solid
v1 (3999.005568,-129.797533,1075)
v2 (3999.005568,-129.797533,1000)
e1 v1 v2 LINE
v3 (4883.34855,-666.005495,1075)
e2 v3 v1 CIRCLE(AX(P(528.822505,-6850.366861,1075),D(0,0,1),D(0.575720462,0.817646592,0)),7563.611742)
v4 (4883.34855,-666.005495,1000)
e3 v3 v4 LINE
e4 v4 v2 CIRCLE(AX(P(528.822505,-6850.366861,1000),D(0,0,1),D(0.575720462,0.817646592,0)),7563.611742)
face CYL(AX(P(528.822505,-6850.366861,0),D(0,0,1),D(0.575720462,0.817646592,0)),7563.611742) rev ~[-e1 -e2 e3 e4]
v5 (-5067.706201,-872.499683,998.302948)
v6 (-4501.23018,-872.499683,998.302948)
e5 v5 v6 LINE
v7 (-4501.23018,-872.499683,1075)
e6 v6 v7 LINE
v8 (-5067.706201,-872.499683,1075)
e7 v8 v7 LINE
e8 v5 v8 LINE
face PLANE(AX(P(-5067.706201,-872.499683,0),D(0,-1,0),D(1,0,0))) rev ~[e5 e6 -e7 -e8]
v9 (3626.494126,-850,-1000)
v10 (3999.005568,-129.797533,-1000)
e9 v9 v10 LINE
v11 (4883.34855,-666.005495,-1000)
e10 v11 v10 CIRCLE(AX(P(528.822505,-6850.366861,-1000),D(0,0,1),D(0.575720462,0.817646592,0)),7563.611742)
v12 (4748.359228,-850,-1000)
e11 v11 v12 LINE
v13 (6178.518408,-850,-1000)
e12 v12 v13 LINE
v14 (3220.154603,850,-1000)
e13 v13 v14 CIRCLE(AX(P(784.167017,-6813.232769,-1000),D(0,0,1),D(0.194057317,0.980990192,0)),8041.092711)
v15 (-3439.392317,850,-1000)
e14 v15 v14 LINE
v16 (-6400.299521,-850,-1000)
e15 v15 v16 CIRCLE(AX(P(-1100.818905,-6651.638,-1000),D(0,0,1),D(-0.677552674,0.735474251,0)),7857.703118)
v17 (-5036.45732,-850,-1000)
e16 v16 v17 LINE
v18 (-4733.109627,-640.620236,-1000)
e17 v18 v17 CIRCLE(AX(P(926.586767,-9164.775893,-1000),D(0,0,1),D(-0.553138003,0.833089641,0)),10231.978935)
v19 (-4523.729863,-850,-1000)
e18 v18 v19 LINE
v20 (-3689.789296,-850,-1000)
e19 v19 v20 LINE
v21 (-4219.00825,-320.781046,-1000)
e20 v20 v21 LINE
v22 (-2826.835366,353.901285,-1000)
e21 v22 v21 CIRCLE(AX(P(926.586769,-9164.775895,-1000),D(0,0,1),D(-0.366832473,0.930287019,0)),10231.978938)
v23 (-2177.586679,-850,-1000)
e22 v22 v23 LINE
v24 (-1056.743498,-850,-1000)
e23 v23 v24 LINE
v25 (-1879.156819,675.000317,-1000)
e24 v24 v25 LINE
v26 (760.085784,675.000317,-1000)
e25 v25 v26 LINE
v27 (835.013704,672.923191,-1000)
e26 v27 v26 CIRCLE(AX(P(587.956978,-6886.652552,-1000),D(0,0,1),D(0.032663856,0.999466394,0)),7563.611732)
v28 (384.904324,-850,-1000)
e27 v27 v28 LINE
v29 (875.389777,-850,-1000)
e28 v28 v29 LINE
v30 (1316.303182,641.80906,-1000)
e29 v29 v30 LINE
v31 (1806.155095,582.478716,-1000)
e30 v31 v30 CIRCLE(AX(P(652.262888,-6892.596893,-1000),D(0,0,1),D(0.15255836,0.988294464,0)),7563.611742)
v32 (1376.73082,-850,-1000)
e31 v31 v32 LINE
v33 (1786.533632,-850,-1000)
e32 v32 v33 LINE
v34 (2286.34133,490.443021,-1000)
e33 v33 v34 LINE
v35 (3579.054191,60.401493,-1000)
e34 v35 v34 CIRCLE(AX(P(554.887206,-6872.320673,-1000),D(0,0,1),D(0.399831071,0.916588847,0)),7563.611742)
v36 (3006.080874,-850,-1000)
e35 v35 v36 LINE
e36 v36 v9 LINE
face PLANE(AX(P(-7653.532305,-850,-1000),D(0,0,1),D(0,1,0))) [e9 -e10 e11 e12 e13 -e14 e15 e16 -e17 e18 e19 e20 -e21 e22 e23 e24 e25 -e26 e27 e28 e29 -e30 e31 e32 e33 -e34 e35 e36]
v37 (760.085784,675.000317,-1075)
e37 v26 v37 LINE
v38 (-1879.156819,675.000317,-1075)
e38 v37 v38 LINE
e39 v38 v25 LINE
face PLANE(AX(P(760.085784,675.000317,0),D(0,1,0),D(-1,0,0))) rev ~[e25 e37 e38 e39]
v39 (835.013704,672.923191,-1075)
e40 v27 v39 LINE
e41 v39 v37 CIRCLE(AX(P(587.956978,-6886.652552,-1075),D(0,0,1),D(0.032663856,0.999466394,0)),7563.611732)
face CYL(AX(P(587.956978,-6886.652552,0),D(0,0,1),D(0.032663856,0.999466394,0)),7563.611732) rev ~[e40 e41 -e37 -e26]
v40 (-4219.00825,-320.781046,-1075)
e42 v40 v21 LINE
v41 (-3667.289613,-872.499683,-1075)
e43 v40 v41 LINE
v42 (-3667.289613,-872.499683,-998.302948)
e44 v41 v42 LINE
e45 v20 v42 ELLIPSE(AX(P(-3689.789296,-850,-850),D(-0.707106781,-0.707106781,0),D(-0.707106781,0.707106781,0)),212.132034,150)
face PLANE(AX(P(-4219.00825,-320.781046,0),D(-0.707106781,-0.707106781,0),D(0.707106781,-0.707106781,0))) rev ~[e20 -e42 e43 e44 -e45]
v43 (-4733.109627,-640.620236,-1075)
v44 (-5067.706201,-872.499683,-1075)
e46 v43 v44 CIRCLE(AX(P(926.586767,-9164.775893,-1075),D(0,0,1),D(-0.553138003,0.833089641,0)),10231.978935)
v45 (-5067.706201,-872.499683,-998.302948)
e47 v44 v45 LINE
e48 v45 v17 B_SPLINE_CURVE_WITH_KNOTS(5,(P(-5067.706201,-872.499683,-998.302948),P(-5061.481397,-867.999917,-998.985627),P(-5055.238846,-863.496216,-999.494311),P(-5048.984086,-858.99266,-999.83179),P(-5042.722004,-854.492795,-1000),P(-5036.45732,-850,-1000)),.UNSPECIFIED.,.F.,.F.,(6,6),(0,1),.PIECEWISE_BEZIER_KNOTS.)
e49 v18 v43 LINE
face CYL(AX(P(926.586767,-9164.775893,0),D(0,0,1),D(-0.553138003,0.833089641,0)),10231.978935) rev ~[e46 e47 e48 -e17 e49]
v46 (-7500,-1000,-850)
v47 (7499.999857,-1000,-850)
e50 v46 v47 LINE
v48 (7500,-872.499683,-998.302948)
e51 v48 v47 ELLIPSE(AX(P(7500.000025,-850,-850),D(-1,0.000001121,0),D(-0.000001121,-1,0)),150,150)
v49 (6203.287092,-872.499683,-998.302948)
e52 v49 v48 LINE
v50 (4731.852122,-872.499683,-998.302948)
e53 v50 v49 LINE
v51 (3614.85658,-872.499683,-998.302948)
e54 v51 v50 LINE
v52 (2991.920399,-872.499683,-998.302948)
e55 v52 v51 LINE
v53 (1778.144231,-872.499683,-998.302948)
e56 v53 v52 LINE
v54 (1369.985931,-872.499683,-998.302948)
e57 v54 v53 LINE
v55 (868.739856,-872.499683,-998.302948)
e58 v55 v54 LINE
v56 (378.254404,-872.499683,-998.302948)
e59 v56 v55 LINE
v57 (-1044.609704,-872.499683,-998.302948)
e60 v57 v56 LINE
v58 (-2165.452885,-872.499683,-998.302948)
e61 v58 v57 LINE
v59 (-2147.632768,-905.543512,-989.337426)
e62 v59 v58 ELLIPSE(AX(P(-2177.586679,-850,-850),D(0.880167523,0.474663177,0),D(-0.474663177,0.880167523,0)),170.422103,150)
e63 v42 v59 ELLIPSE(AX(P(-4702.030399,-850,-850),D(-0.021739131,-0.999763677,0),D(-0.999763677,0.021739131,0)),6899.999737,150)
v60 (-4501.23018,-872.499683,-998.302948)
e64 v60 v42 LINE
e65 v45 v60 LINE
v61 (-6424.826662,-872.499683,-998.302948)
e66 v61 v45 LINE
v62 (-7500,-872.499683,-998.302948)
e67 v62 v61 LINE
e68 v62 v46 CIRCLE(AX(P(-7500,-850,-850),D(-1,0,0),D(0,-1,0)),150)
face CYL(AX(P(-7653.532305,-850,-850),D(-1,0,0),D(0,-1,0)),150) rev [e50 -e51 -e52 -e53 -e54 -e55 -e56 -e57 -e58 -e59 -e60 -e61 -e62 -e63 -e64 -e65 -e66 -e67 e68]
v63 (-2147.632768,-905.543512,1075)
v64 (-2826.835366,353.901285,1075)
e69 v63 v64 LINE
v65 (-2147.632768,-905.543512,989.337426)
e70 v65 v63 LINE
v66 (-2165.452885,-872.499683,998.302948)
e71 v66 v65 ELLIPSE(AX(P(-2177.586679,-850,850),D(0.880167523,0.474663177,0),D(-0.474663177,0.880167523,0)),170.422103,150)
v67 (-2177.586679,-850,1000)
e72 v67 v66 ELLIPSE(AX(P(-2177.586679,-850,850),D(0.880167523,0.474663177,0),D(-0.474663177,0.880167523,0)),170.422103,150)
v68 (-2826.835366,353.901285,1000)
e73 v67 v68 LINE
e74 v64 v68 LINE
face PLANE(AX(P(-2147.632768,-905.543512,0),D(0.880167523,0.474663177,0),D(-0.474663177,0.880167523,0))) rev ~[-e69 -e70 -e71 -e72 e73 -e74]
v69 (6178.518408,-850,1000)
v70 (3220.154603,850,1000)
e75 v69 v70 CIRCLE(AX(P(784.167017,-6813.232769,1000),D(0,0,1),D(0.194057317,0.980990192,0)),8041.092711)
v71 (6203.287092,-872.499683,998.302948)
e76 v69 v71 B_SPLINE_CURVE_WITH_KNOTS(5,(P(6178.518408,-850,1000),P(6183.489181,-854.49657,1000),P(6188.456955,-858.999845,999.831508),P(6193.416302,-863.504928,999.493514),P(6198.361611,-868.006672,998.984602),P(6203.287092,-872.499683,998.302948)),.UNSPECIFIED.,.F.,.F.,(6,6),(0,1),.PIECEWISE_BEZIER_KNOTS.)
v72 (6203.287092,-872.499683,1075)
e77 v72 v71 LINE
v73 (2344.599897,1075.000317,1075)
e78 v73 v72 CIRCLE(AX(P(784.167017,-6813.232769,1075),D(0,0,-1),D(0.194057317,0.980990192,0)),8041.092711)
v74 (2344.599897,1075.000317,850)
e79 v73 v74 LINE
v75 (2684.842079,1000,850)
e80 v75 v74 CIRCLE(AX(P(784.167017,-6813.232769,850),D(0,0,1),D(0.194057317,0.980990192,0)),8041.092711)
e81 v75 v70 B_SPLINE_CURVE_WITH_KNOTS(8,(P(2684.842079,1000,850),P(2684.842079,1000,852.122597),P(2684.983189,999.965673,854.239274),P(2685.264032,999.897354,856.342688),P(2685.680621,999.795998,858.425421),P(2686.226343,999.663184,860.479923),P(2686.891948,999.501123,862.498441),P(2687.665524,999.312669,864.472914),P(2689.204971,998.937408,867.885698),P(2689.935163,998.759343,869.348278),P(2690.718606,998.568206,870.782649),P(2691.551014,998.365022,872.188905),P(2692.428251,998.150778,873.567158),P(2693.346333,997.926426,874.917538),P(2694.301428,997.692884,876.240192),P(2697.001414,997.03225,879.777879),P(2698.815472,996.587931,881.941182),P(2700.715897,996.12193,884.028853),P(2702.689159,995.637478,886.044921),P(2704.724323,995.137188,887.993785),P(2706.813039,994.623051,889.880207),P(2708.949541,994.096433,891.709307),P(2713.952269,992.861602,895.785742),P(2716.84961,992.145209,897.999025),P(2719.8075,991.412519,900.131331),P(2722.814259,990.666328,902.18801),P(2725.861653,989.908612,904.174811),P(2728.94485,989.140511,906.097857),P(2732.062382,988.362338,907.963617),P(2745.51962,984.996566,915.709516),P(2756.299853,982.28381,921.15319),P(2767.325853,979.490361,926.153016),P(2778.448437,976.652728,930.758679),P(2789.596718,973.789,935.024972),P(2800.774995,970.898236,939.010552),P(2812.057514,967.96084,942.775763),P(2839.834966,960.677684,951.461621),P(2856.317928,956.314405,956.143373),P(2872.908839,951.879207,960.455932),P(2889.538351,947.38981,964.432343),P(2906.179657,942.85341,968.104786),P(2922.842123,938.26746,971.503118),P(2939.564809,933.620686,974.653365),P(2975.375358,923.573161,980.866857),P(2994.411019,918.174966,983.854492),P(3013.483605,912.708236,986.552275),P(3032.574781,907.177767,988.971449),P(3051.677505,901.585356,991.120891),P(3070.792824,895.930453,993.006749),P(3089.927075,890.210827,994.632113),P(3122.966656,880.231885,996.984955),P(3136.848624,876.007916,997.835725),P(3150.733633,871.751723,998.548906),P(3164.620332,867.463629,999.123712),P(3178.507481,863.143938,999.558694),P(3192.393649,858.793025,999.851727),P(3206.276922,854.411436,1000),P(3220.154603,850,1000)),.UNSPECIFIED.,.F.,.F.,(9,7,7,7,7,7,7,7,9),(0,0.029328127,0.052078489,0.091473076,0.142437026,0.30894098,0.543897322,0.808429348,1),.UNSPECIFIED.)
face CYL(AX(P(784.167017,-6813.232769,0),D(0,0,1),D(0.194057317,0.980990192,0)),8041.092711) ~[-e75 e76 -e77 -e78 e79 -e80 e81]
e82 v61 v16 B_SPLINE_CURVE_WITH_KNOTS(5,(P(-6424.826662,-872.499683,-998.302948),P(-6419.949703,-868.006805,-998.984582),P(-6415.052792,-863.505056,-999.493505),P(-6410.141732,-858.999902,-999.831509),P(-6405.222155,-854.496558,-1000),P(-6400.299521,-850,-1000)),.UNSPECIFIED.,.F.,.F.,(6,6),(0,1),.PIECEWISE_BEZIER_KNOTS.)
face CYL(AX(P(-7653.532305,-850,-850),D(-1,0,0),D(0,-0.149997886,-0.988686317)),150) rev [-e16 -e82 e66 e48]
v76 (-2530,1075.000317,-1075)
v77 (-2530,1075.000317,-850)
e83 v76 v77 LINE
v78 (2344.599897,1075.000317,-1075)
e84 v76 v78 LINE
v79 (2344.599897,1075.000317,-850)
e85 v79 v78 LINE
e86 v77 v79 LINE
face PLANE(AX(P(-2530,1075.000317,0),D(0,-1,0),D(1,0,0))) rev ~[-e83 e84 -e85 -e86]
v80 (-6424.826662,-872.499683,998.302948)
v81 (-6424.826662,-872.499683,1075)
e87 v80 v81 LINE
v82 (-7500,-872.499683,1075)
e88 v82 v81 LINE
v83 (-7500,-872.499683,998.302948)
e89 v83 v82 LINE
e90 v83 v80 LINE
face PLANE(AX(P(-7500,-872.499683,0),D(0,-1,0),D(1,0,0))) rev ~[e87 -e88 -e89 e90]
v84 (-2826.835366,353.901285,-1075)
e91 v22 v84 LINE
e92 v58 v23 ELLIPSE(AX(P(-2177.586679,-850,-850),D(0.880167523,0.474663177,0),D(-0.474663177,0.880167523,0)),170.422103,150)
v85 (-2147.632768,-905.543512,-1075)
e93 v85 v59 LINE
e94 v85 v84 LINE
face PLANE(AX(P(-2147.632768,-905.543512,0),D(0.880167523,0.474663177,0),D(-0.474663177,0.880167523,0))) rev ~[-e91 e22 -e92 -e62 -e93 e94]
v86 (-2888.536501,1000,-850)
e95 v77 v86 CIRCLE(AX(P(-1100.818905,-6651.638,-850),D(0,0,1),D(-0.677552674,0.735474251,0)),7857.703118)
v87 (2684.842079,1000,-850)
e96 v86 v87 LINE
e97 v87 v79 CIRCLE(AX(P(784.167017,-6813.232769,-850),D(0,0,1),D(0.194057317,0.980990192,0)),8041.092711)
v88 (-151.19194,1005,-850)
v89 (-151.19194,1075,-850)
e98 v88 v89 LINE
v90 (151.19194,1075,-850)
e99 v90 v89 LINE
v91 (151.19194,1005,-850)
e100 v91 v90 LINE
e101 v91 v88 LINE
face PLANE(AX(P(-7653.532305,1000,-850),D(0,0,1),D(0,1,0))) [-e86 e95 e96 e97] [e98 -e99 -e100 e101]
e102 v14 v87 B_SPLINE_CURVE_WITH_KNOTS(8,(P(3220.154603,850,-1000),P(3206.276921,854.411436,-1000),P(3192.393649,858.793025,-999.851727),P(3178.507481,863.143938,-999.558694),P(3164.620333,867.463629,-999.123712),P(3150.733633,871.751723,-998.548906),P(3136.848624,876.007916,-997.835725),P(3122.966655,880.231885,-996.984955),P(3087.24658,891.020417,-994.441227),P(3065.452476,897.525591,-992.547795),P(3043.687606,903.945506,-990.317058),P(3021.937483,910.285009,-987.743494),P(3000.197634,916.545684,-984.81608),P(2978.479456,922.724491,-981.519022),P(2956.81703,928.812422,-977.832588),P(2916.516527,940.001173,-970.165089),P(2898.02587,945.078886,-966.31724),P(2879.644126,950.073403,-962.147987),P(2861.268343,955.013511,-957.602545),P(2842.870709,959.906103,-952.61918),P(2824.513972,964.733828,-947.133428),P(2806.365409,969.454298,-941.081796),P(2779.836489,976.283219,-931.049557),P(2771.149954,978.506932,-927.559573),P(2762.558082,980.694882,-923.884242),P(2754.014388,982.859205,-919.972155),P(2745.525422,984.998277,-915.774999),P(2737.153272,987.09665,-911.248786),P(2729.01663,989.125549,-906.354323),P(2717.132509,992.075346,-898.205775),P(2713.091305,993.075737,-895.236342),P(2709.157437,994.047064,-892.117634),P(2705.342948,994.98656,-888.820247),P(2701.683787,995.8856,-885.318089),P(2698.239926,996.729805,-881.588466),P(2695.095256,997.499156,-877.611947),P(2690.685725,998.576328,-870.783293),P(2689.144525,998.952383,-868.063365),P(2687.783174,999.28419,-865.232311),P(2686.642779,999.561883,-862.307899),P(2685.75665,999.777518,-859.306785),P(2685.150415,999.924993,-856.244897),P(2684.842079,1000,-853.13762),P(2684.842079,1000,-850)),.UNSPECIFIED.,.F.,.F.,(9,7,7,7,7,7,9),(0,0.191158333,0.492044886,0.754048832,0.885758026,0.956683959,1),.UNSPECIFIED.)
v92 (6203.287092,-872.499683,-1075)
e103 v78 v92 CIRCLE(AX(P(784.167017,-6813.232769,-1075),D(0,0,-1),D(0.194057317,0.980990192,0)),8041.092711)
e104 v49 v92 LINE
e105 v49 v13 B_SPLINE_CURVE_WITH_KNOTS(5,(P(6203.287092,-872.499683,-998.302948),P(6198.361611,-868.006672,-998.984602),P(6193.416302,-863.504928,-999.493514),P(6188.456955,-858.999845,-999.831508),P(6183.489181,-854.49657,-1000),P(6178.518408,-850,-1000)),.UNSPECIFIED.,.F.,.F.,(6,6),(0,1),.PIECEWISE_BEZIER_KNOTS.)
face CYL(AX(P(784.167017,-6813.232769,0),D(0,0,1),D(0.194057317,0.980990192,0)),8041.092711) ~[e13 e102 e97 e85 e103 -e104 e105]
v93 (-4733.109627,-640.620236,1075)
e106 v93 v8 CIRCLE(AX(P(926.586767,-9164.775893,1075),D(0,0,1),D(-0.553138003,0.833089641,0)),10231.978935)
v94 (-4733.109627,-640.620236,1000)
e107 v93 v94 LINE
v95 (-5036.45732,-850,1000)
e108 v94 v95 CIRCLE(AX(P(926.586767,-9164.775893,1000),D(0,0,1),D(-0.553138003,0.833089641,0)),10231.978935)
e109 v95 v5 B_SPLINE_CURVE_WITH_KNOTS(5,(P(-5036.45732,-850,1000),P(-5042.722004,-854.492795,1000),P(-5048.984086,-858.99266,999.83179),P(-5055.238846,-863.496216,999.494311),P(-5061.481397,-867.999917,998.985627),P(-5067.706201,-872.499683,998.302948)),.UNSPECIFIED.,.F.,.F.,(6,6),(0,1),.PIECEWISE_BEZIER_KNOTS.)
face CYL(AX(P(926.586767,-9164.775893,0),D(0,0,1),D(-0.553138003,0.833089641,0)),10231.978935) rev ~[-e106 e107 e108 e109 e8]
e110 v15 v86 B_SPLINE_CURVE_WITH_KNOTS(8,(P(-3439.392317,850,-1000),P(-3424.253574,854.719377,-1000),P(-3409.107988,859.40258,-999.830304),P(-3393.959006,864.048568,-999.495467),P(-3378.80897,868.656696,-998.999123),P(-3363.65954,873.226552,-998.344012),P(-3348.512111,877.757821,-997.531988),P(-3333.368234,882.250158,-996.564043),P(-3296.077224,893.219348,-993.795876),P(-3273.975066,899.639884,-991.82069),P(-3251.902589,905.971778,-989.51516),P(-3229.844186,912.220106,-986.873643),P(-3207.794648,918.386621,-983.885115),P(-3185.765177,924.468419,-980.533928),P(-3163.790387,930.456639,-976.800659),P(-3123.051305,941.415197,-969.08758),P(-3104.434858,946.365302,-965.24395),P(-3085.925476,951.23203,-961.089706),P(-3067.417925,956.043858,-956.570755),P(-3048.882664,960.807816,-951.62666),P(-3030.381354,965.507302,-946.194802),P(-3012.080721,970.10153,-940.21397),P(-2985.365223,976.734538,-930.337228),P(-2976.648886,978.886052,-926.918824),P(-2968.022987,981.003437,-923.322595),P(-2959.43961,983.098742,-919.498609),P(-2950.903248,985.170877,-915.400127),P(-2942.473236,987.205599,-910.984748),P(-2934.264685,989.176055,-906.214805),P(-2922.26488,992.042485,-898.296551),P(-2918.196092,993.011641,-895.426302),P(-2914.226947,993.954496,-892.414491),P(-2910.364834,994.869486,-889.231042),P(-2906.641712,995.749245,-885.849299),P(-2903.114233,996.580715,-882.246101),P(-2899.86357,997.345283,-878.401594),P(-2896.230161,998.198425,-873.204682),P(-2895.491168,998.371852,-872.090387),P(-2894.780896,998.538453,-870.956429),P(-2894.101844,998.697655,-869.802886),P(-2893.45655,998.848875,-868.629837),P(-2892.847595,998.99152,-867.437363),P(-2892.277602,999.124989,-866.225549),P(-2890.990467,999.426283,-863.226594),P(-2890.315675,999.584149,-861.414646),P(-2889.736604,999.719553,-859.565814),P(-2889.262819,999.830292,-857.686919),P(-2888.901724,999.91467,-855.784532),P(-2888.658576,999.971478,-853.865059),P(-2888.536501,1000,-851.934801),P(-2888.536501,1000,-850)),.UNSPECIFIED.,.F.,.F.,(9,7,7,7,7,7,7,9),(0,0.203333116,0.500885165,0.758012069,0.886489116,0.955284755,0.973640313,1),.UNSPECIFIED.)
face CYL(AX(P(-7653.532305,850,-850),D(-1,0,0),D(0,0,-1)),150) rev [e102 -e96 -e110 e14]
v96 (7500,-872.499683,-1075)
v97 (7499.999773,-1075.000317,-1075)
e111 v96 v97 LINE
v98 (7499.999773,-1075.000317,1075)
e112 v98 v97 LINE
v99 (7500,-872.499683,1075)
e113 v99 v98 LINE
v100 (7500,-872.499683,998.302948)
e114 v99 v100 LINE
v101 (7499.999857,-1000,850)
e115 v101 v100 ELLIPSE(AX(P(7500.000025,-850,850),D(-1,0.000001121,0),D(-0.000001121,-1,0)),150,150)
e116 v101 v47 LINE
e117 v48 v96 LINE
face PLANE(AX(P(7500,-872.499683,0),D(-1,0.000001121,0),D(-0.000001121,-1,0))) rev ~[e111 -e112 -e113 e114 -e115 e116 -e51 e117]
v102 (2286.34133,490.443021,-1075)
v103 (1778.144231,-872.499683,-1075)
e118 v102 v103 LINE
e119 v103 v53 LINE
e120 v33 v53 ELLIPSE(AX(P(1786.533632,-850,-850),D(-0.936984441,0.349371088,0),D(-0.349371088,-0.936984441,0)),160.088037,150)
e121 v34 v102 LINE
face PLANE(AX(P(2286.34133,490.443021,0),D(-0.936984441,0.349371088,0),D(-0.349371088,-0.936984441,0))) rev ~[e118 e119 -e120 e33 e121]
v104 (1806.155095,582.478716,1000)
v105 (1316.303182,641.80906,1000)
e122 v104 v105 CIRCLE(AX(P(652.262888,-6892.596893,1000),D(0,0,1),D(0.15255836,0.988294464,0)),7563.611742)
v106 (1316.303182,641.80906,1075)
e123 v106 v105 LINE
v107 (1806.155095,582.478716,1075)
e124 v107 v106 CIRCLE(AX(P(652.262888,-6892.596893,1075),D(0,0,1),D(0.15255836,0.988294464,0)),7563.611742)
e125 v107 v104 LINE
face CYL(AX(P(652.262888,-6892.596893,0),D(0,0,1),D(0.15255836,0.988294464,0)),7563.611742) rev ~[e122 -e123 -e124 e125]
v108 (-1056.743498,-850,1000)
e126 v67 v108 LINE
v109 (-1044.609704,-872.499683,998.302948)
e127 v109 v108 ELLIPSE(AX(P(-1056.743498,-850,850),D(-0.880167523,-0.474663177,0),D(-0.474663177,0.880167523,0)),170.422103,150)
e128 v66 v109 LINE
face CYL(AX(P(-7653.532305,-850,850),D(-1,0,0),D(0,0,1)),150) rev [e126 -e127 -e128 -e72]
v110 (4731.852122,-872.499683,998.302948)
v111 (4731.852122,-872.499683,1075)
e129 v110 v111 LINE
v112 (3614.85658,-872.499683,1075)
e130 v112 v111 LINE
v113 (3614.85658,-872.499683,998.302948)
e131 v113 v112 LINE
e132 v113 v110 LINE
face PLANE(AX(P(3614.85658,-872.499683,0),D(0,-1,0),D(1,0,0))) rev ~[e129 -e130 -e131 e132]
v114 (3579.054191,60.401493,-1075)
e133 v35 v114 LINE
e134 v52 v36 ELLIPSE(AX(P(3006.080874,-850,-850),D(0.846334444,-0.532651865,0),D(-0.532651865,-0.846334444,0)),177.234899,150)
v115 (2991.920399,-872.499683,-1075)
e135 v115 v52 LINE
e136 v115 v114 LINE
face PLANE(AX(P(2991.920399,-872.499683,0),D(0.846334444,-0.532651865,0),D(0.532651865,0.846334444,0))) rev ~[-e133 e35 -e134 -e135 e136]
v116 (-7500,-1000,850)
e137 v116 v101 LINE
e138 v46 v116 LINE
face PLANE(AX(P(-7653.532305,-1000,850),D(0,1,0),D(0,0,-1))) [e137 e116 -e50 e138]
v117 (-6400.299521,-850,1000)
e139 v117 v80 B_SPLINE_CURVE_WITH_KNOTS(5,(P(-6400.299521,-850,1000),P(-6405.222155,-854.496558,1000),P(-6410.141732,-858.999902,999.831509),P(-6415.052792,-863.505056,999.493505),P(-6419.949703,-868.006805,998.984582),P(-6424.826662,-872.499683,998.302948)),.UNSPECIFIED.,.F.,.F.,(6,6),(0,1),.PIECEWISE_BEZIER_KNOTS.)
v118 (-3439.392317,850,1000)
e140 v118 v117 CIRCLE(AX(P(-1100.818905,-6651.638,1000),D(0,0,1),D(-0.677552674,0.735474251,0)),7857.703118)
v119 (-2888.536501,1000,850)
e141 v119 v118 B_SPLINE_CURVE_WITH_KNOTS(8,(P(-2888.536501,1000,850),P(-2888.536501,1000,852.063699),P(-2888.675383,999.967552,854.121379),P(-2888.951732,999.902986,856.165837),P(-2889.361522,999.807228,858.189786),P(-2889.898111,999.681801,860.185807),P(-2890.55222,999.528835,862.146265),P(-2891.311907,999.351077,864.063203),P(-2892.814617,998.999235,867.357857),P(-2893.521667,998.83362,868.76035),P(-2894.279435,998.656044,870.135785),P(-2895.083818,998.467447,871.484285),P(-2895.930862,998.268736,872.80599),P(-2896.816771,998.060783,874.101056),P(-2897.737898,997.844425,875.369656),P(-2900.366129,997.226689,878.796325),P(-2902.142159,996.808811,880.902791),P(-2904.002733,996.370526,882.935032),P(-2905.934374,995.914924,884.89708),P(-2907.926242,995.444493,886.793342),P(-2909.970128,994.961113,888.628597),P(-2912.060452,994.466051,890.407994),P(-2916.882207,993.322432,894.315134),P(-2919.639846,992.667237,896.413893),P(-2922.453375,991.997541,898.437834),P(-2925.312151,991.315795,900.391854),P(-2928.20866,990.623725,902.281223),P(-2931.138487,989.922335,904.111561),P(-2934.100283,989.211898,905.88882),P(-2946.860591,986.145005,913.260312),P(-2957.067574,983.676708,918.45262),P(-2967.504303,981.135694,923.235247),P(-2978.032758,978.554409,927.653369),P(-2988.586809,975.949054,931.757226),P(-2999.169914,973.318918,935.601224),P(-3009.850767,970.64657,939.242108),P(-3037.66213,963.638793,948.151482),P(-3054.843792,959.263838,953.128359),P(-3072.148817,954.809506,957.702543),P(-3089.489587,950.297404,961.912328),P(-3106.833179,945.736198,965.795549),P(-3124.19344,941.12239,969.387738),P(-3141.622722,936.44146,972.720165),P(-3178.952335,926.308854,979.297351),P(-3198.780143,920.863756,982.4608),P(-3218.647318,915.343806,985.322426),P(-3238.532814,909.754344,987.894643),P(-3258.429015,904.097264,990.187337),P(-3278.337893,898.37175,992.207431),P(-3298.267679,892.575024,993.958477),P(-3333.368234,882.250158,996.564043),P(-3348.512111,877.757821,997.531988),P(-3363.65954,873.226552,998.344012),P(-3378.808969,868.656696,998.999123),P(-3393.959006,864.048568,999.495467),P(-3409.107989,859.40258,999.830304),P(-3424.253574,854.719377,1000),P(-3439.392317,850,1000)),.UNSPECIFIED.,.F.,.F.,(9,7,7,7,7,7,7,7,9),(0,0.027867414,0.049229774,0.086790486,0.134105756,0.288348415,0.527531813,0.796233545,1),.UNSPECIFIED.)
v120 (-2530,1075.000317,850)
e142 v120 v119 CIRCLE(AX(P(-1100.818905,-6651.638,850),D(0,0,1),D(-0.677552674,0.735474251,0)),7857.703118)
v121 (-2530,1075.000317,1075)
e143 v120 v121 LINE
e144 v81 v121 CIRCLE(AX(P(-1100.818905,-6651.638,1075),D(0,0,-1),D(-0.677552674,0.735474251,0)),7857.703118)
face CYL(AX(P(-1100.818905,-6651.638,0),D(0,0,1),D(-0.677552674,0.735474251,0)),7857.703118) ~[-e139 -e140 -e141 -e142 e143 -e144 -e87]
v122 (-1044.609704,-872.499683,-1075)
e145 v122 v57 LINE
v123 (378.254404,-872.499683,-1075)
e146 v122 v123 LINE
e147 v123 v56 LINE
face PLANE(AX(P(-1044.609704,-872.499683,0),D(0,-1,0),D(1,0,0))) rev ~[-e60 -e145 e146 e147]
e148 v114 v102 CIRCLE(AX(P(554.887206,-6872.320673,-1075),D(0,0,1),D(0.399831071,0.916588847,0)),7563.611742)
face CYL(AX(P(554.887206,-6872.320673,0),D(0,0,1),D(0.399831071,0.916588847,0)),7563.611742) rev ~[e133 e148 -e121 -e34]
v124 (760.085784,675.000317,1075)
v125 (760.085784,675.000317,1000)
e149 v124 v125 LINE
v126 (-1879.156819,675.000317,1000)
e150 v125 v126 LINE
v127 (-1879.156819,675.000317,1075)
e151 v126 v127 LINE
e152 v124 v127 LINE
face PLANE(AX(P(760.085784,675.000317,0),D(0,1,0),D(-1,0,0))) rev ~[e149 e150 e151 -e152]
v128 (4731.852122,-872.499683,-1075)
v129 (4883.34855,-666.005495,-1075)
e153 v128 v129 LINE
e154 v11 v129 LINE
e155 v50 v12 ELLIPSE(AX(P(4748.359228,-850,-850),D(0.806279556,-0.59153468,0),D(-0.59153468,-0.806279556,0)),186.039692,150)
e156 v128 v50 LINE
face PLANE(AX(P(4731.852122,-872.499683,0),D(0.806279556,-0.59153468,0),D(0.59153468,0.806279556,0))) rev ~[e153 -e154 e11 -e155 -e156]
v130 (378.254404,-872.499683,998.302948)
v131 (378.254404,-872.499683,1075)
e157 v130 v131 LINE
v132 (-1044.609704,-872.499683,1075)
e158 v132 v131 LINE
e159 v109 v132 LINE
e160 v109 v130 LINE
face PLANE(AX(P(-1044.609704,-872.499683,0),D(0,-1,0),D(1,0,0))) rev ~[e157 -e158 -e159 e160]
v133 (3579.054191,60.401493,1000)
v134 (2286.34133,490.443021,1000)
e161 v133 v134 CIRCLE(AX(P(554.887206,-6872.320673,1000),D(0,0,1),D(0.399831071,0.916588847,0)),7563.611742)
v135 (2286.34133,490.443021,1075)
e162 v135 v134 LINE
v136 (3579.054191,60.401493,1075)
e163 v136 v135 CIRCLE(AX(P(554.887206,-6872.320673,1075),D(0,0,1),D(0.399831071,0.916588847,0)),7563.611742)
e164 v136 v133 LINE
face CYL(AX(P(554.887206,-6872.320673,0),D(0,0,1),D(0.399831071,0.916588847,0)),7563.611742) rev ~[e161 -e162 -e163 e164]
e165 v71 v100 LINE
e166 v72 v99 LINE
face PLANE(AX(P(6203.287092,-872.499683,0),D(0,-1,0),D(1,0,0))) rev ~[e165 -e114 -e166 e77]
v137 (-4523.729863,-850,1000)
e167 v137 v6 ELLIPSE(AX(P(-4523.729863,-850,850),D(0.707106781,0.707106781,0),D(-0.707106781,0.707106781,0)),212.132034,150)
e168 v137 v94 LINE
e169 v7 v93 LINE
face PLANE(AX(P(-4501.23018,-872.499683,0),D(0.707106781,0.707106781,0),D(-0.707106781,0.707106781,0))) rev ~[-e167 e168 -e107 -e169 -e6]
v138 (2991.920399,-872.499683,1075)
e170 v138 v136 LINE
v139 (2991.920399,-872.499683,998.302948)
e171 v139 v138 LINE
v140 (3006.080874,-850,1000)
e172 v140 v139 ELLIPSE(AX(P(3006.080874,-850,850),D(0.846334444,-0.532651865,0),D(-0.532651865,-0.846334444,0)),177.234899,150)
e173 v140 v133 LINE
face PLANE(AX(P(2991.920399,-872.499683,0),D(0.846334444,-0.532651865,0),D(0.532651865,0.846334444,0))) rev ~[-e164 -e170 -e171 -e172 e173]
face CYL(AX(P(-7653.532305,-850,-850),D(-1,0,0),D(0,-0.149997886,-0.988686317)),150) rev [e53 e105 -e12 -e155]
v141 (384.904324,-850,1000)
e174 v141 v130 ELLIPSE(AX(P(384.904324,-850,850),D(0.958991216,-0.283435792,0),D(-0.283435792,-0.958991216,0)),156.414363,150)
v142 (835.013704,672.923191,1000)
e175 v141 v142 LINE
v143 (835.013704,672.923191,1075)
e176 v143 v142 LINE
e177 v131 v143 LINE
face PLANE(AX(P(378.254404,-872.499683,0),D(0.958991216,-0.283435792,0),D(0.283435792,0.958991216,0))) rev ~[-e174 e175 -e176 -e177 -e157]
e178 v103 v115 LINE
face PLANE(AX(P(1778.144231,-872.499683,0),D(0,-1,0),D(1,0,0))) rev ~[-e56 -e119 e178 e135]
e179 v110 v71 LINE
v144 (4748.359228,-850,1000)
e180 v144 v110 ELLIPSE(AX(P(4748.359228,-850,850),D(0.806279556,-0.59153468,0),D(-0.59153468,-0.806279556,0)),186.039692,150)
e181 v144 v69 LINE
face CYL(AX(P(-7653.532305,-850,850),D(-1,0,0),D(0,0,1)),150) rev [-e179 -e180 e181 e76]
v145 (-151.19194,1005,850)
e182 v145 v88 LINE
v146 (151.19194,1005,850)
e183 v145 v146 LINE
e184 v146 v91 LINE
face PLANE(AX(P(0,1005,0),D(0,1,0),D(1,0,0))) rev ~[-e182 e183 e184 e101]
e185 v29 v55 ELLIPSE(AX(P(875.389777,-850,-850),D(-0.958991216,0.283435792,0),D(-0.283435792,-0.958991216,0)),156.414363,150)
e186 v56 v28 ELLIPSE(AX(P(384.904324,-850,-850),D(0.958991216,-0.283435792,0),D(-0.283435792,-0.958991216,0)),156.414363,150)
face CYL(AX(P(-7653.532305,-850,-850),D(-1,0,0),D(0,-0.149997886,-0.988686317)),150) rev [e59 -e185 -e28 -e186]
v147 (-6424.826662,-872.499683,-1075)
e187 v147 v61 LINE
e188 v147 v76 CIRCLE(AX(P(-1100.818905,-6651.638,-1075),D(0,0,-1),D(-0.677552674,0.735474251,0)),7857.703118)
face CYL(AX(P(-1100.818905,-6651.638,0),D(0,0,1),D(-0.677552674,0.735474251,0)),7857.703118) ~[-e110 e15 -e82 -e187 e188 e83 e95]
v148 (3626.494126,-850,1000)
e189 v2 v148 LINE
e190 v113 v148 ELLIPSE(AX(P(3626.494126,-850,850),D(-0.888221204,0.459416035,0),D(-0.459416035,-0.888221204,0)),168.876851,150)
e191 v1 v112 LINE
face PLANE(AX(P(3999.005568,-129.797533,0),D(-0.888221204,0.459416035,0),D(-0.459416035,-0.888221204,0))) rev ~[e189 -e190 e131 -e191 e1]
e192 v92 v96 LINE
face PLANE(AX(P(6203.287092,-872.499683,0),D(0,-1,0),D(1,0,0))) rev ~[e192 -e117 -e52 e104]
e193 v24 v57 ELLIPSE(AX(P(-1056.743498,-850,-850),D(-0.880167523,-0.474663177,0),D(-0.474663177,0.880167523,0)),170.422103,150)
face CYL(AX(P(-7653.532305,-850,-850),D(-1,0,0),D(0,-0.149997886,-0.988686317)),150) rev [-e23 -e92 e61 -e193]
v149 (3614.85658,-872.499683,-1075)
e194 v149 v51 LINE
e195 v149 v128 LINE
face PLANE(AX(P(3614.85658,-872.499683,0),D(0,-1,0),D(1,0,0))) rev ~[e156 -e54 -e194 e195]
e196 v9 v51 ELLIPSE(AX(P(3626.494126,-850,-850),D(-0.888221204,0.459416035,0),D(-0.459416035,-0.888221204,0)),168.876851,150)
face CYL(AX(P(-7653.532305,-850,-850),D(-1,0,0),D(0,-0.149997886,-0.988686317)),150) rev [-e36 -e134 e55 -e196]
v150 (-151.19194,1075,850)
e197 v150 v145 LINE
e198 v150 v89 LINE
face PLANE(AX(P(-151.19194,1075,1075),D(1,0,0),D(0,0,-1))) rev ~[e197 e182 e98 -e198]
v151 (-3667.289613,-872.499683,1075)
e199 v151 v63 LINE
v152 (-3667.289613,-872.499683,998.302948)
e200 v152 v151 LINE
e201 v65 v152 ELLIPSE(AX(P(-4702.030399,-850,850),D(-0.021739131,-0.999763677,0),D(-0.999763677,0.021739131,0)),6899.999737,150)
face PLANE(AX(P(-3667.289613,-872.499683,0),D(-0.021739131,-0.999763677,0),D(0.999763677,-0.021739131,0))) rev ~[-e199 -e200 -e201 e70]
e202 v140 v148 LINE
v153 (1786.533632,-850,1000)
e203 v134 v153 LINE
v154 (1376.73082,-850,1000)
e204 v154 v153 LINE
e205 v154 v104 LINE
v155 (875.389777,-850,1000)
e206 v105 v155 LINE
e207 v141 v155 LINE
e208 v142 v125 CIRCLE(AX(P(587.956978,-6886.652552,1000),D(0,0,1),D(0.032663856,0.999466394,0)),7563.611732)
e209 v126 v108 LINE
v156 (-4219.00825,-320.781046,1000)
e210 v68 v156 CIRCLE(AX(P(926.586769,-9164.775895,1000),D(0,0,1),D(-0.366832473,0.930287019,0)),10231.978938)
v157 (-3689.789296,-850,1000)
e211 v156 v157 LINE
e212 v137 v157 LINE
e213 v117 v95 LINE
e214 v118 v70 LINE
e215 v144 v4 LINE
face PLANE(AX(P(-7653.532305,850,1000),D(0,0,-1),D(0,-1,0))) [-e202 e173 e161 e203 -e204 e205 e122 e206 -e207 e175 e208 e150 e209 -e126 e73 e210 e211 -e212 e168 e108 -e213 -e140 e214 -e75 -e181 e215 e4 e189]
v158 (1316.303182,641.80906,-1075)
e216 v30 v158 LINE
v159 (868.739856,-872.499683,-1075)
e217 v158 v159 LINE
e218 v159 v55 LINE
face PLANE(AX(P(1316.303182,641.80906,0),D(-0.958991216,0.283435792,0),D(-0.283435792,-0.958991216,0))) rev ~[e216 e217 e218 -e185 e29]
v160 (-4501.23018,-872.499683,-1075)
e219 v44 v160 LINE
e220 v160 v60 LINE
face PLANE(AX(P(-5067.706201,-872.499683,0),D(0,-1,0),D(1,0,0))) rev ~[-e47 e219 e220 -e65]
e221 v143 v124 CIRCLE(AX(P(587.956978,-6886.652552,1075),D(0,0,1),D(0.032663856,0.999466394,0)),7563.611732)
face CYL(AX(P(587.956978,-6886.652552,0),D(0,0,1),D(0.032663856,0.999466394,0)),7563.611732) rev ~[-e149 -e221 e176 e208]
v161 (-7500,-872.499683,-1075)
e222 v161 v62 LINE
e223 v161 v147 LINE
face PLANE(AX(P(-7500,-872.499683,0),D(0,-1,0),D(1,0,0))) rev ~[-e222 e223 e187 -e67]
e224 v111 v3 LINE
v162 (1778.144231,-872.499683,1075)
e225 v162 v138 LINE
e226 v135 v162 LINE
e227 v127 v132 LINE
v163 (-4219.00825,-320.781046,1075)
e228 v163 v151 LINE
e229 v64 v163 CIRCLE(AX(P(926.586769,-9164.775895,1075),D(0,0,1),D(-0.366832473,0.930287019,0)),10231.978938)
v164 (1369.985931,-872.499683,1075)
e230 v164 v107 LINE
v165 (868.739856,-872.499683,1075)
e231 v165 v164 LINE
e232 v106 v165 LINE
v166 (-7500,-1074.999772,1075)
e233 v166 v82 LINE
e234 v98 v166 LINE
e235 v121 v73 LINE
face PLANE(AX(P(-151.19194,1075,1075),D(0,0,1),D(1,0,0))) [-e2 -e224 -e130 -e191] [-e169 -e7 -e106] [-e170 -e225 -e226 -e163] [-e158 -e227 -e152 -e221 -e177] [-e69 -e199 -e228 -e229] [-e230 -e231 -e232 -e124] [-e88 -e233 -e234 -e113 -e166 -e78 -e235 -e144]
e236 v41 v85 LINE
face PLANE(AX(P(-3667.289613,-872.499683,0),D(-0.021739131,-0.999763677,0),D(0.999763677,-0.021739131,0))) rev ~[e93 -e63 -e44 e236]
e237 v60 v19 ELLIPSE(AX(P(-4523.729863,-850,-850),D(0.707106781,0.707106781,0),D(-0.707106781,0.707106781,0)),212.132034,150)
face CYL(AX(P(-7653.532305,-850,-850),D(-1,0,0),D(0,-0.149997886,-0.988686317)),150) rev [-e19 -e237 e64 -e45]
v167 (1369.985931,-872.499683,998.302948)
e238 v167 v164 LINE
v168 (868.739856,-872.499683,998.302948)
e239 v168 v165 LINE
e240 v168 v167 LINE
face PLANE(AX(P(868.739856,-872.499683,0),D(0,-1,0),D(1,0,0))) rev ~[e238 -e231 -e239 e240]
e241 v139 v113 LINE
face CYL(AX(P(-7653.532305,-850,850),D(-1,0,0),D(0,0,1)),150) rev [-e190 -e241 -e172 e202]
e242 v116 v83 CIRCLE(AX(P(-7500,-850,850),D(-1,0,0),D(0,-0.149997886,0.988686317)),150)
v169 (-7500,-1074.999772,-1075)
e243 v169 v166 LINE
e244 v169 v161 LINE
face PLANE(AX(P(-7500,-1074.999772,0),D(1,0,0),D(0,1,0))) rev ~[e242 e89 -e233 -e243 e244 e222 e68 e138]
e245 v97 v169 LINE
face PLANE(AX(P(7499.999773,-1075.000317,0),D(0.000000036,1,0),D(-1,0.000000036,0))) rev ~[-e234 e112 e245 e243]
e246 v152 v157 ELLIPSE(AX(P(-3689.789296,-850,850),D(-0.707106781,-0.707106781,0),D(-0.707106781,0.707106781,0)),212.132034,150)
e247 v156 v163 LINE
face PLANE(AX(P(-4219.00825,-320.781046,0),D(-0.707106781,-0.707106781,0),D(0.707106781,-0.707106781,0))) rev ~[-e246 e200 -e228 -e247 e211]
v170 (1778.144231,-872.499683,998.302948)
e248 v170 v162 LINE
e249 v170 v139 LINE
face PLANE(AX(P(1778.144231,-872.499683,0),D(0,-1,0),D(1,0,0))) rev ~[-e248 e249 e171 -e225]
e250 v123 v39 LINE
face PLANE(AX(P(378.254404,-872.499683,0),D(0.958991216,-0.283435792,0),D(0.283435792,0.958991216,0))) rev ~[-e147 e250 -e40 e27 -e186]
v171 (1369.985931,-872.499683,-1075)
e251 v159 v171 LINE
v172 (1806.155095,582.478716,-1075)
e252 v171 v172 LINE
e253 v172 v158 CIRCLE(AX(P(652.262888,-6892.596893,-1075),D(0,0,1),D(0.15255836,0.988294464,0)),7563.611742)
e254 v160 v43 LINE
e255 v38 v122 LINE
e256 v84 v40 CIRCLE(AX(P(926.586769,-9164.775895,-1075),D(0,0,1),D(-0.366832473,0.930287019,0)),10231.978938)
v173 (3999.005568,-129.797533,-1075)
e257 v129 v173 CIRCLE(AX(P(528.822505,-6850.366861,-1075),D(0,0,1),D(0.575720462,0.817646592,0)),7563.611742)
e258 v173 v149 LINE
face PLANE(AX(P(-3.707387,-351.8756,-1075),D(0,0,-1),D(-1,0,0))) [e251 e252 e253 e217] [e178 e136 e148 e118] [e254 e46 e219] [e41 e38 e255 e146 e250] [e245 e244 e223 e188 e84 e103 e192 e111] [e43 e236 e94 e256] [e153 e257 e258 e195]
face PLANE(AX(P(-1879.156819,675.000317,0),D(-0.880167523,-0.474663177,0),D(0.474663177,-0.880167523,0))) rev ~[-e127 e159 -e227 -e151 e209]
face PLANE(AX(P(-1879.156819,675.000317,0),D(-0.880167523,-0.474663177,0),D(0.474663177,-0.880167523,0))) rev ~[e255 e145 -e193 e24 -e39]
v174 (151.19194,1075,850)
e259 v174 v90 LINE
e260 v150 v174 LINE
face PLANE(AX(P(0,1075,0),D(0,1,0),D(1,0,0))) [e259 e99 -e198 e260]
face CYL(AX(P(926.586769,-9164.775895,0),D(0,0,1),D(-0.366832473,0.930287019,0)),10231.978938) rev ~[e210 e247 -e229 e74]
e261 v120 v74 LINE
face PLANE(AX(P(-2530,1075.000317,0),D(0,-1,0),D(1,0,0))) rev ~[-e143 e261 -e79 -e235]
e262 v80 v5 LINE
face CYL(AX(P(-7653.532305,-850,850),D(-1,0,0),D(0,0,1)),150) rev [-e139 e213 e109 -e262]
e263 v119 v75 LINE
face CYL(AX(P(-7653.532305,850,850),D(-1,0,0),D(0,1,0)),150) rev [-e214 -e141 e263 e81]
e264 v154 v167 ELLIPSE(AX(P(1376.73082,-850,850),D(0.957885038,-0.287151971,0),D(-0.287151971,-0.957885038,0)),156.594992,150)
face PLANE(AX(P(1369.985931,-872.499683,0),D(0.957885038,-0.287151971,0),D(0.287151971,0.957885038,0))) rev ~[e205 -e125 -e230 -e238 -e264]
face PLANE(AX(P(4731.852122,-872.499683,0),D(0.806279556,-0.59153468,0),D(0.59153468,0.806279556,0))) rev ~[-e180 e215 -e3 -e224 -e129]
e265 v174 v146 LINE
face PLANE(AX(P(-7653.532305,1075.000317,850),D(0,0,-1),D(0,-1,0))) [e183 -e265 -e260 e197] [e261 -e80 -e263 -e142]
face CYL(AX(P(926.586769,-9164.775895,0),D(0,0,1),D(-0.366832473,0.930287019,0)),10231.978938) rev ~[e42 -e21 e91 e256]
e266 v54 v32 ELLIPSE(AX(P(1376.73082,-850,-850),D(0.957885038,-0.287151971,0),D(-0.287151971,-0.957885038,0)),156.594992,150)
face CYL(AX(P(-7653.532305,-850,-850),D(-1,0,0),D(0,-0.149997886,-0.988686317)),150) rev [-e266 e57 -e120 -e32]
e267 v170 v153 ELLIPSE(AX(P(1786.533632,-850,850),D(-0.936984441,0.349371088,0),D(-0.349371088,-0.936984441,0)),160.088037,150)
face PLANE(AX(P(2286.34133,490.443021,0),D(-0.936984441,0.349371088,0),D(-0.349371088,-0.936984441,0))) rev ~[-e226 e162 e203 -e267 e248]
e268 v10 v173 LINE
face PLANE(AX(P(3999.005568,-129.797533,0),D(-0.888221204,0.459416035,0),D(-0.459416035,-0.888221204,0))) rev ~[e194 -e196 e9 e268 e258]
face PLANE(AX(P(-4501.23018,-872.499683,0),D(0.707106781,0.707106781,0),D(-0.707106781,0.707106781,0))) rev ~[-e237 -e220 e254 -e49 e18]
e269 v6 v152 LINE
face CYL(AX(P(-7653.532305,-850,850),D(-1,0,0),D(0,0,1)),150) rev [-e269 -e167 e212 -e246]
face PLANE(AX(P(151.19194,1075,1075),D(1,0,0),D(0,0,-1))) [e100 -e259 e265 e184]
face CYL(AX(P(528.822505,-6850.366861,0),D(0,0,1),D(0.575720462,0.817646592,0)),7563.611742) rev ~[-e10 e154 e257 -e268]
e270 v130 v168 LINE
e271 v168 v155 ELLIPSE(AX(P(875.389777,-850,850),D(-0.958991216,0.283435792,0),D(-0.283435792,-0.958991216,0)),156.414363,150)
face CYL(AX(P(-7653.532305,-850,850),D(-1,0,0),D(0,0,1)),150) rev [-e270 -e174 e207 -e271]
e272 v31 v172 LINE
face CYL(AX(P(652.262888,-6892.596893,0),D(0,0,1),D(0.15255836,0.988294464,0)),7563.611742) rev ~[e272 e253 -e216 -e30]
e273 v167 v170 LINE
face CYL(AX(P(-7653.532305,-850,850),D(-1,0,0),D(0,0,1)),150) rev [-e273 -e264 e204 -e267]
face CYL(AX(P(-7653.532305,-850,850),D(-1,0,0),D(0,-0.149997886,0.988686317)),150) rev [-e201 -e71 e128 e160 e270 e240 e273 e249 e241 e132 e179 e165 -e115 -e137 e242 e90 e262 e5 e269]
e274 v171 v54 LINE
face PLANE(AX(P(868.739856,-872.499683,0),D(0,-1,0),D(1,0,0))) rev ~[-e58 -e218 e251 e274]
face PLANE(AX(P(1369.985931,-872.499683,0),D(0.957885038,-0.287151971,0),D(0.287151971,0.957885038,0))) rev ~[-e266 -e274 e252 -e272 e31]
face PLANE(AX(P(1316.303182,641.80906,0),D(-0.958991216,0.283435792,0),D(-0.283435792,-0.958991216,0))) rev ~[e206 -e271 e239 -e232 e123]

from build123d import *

# Parameters (mm, degrees)
BOSS_EXTRUDE1_DEPTH     = 1075
CUT_EXTRUDE1_DEPTH      = 7653.532305167
CUT_EXTRUDE1_DEPTH_BACK = 7653.532305167
SKETCH5_W               = 302.383880832
SKETCH5_H               = 2150
BOSS_EXTRUDE2_DEPTH     = 70


with BuildPart() as part:
    # Sketch1 → Boss-Extrude1 (new, symmetric)
    with BuildSketch(Plane.XY):
        with BuildLine():
            Line((-2530, 1075.000317032), (2344.599897209, 1075.000317032))
            ThreePointArc((2344.599897209, 1075.000317032), (4407.249810354, 365.377337752), (6203.287092397, -872.499682968))
            Line((6203.287092397, -872.499682968), (7500, -872.499682968))
            Line((7500, -872.499682968), (7499.99977297, -1075.000317032))
            Line((7499.99977297, -1075.000317032), (-7500, -1074.999772413))
            Line((-7500, -1074.999772413), (-7500, -872.499682968))
            Line((-7500, -872.499682968), (-6424.826662056, -872.499682968))
            ThreePointArc((-6424.826662056, -872.499682968), (-4615.015680989, 376.442769607), (-2530, 1075.000317032))
        make_face()
        with BuildLine():
            ThreePointArc((1806.155094546, 582.478715569), (1561.713088192, 616.139546066), (1316.303182053, 641.809060073))
            Line((1316.303182053, 641.809060073), (868.739855923, -872.499682968))
            Line((868.739855923, -872.499682968), (1369.985931107, -872.499682968))
            Line((1369.985931107, -872.499682968), (1806.155094546, 582.478715569))
        make_face(mode=Mode.SUBTRACT)
        with BuildLine():
            ThreePointArc((835.013703981, 672.923190827), (797.55231686, 674.054573087), (760.085783537, 675.000317032))
            Line((760.085783537, 675.000317032), (-1879.1568192, 675.000317032))
            Line((-1879.1568192, 675.000317032), (-1044.609704387, -872.499682968))
            Line((-1044.609704387, -872.499682968), (378.254403837, -872.499682968))
            Line((378.254403837, -872.499682968), (835.013703981, 672.923190827))
        make_face(mode=Mode.SUBTRACT)
        with BuildLine():
            ThreePointArc((-4733.10962669, -640.620236119), (-4901.561226224, -754.89575708), (-5067.706201147, -872.499682968))
            Line((-5067.706201147, -872.499682968), (-4501.230179842, -872.499682968))
            Line((-4501.230179842, -872.499682968), (-4733.10962669, -640.620236119))
        make_face(mode=Mode.SUBTRACT)
        with BuildLine():
            ThreePointArc((3579.05419078, 60.401493406), (2942.399920145, 304.587131085), (2286.341329526, 490.443020531))
            Line((2286.341329526, 490.443020531), (1778.144230839, -872.499682968))
            Line((1778.144230839, -872.499682968), (2991.920398852, -872.499682968))
            Line((2991.920398852, -872.499682968), (3579.05419078, 60.401493406))
        make_face(mode=Mode.SUBTRACT)
        with BuildLine():
            ThreePointArc((4883.348550373, -666.005495378), (4450.352550901, -382.76879992), (3999.005567619, -129.797532984))
            Line((3999.005567619, -129.797532984), (3614.856579636, -872.499682968))
            Line((3614.856579636, -872.499682968), (4731.852121641, -872.499682968))
            Line((4731.852121641, -872.499682968), (4883.348550373, -666.005495378))
        make_face(mode=Mode.SUBTRACT)
        with BuildLine():
            ThreePointArc((-2826.835366329, 353.901285175), (-3535.691308305, 42.90933788), (-4219.008249765, -320.781045922))
            Line((-4219.008249765, -320.781045922), (-3667.289612719, -872.499682968))
            Line((-3667.289612719, -872.499682968), (-2147.632767673, -905.543511608))
            Line((-2147.632767673, -905.543511608), (-2826.835366329, 353.901285175))
        make_face(mode=Mode.SUBTRACT)
    extrude(amount=BOSS_EXTRUDE1_DEPTH, both=True)

    # Sketch2 → Cut-Extrude1 (cut, two sides: drawn at the far end of the back side and taken through both)
    with BuildSketch(Plane(origin=(0, 0, 0), x_dir=(0, 0, -1), z_dir=(1, 0, 0)).offset(-CUT_EXTRUDE1_DEPTH_BACK)):
        with BuildLine():
            ThreePointArc((-1000, -850), (-999.575135199, -861.281796405), (-998.302947598, -872.499682968))
            ThreePointArc((-998.302947598, -872.499682968), (-947.788157654, -963.743027138), (-850, -1000))
            Line((-850, -1000), (850, -1000))
            ThreePointArc((850, -1000), (947.788157654, -963.743027138), (998.302947598, -872.499682968))
            ThreePointArc((998.302947598, -872.499682968), (999.575135199, -861.281796405), (1000, -850))
            Line((1000, -850), (1000, 850))
            ThreePointArc((1000, 850), (956.066017178, 956.066017178), (850, 1000))
            Line((850, 1000), (850, 1075.000317032))
            Line((850, 1075.000317032), (-850, 1075.000317032))
            Line((-850, 1075.000317032), (-850, 1000))
            ThreePointArc((-850, 1000), (-956.066017178, 956.066017178), (-1000, 850))
            Line((-1000, 850), (-1000, -850))
        make_face()
    extrude(amount=CUT_EXTRUDE1_DEPTH + CUT_EXTRUDE1_DEPTH_BACK, mode=Mode.SUBTRACT)

    # Sketch5 → Boss-Extrude2 (add)
    with BuildSketch(Plane(origin=(0, 1075, 0), x_dir=(1, 0, 0), z_dir=(0, 1, 0))):
        Rectangle(SKETCH5_W, SKETCH5_H)
    extrude(amount=-BOSS_EXTRUDE2_DEPTH)


solid = part.part
